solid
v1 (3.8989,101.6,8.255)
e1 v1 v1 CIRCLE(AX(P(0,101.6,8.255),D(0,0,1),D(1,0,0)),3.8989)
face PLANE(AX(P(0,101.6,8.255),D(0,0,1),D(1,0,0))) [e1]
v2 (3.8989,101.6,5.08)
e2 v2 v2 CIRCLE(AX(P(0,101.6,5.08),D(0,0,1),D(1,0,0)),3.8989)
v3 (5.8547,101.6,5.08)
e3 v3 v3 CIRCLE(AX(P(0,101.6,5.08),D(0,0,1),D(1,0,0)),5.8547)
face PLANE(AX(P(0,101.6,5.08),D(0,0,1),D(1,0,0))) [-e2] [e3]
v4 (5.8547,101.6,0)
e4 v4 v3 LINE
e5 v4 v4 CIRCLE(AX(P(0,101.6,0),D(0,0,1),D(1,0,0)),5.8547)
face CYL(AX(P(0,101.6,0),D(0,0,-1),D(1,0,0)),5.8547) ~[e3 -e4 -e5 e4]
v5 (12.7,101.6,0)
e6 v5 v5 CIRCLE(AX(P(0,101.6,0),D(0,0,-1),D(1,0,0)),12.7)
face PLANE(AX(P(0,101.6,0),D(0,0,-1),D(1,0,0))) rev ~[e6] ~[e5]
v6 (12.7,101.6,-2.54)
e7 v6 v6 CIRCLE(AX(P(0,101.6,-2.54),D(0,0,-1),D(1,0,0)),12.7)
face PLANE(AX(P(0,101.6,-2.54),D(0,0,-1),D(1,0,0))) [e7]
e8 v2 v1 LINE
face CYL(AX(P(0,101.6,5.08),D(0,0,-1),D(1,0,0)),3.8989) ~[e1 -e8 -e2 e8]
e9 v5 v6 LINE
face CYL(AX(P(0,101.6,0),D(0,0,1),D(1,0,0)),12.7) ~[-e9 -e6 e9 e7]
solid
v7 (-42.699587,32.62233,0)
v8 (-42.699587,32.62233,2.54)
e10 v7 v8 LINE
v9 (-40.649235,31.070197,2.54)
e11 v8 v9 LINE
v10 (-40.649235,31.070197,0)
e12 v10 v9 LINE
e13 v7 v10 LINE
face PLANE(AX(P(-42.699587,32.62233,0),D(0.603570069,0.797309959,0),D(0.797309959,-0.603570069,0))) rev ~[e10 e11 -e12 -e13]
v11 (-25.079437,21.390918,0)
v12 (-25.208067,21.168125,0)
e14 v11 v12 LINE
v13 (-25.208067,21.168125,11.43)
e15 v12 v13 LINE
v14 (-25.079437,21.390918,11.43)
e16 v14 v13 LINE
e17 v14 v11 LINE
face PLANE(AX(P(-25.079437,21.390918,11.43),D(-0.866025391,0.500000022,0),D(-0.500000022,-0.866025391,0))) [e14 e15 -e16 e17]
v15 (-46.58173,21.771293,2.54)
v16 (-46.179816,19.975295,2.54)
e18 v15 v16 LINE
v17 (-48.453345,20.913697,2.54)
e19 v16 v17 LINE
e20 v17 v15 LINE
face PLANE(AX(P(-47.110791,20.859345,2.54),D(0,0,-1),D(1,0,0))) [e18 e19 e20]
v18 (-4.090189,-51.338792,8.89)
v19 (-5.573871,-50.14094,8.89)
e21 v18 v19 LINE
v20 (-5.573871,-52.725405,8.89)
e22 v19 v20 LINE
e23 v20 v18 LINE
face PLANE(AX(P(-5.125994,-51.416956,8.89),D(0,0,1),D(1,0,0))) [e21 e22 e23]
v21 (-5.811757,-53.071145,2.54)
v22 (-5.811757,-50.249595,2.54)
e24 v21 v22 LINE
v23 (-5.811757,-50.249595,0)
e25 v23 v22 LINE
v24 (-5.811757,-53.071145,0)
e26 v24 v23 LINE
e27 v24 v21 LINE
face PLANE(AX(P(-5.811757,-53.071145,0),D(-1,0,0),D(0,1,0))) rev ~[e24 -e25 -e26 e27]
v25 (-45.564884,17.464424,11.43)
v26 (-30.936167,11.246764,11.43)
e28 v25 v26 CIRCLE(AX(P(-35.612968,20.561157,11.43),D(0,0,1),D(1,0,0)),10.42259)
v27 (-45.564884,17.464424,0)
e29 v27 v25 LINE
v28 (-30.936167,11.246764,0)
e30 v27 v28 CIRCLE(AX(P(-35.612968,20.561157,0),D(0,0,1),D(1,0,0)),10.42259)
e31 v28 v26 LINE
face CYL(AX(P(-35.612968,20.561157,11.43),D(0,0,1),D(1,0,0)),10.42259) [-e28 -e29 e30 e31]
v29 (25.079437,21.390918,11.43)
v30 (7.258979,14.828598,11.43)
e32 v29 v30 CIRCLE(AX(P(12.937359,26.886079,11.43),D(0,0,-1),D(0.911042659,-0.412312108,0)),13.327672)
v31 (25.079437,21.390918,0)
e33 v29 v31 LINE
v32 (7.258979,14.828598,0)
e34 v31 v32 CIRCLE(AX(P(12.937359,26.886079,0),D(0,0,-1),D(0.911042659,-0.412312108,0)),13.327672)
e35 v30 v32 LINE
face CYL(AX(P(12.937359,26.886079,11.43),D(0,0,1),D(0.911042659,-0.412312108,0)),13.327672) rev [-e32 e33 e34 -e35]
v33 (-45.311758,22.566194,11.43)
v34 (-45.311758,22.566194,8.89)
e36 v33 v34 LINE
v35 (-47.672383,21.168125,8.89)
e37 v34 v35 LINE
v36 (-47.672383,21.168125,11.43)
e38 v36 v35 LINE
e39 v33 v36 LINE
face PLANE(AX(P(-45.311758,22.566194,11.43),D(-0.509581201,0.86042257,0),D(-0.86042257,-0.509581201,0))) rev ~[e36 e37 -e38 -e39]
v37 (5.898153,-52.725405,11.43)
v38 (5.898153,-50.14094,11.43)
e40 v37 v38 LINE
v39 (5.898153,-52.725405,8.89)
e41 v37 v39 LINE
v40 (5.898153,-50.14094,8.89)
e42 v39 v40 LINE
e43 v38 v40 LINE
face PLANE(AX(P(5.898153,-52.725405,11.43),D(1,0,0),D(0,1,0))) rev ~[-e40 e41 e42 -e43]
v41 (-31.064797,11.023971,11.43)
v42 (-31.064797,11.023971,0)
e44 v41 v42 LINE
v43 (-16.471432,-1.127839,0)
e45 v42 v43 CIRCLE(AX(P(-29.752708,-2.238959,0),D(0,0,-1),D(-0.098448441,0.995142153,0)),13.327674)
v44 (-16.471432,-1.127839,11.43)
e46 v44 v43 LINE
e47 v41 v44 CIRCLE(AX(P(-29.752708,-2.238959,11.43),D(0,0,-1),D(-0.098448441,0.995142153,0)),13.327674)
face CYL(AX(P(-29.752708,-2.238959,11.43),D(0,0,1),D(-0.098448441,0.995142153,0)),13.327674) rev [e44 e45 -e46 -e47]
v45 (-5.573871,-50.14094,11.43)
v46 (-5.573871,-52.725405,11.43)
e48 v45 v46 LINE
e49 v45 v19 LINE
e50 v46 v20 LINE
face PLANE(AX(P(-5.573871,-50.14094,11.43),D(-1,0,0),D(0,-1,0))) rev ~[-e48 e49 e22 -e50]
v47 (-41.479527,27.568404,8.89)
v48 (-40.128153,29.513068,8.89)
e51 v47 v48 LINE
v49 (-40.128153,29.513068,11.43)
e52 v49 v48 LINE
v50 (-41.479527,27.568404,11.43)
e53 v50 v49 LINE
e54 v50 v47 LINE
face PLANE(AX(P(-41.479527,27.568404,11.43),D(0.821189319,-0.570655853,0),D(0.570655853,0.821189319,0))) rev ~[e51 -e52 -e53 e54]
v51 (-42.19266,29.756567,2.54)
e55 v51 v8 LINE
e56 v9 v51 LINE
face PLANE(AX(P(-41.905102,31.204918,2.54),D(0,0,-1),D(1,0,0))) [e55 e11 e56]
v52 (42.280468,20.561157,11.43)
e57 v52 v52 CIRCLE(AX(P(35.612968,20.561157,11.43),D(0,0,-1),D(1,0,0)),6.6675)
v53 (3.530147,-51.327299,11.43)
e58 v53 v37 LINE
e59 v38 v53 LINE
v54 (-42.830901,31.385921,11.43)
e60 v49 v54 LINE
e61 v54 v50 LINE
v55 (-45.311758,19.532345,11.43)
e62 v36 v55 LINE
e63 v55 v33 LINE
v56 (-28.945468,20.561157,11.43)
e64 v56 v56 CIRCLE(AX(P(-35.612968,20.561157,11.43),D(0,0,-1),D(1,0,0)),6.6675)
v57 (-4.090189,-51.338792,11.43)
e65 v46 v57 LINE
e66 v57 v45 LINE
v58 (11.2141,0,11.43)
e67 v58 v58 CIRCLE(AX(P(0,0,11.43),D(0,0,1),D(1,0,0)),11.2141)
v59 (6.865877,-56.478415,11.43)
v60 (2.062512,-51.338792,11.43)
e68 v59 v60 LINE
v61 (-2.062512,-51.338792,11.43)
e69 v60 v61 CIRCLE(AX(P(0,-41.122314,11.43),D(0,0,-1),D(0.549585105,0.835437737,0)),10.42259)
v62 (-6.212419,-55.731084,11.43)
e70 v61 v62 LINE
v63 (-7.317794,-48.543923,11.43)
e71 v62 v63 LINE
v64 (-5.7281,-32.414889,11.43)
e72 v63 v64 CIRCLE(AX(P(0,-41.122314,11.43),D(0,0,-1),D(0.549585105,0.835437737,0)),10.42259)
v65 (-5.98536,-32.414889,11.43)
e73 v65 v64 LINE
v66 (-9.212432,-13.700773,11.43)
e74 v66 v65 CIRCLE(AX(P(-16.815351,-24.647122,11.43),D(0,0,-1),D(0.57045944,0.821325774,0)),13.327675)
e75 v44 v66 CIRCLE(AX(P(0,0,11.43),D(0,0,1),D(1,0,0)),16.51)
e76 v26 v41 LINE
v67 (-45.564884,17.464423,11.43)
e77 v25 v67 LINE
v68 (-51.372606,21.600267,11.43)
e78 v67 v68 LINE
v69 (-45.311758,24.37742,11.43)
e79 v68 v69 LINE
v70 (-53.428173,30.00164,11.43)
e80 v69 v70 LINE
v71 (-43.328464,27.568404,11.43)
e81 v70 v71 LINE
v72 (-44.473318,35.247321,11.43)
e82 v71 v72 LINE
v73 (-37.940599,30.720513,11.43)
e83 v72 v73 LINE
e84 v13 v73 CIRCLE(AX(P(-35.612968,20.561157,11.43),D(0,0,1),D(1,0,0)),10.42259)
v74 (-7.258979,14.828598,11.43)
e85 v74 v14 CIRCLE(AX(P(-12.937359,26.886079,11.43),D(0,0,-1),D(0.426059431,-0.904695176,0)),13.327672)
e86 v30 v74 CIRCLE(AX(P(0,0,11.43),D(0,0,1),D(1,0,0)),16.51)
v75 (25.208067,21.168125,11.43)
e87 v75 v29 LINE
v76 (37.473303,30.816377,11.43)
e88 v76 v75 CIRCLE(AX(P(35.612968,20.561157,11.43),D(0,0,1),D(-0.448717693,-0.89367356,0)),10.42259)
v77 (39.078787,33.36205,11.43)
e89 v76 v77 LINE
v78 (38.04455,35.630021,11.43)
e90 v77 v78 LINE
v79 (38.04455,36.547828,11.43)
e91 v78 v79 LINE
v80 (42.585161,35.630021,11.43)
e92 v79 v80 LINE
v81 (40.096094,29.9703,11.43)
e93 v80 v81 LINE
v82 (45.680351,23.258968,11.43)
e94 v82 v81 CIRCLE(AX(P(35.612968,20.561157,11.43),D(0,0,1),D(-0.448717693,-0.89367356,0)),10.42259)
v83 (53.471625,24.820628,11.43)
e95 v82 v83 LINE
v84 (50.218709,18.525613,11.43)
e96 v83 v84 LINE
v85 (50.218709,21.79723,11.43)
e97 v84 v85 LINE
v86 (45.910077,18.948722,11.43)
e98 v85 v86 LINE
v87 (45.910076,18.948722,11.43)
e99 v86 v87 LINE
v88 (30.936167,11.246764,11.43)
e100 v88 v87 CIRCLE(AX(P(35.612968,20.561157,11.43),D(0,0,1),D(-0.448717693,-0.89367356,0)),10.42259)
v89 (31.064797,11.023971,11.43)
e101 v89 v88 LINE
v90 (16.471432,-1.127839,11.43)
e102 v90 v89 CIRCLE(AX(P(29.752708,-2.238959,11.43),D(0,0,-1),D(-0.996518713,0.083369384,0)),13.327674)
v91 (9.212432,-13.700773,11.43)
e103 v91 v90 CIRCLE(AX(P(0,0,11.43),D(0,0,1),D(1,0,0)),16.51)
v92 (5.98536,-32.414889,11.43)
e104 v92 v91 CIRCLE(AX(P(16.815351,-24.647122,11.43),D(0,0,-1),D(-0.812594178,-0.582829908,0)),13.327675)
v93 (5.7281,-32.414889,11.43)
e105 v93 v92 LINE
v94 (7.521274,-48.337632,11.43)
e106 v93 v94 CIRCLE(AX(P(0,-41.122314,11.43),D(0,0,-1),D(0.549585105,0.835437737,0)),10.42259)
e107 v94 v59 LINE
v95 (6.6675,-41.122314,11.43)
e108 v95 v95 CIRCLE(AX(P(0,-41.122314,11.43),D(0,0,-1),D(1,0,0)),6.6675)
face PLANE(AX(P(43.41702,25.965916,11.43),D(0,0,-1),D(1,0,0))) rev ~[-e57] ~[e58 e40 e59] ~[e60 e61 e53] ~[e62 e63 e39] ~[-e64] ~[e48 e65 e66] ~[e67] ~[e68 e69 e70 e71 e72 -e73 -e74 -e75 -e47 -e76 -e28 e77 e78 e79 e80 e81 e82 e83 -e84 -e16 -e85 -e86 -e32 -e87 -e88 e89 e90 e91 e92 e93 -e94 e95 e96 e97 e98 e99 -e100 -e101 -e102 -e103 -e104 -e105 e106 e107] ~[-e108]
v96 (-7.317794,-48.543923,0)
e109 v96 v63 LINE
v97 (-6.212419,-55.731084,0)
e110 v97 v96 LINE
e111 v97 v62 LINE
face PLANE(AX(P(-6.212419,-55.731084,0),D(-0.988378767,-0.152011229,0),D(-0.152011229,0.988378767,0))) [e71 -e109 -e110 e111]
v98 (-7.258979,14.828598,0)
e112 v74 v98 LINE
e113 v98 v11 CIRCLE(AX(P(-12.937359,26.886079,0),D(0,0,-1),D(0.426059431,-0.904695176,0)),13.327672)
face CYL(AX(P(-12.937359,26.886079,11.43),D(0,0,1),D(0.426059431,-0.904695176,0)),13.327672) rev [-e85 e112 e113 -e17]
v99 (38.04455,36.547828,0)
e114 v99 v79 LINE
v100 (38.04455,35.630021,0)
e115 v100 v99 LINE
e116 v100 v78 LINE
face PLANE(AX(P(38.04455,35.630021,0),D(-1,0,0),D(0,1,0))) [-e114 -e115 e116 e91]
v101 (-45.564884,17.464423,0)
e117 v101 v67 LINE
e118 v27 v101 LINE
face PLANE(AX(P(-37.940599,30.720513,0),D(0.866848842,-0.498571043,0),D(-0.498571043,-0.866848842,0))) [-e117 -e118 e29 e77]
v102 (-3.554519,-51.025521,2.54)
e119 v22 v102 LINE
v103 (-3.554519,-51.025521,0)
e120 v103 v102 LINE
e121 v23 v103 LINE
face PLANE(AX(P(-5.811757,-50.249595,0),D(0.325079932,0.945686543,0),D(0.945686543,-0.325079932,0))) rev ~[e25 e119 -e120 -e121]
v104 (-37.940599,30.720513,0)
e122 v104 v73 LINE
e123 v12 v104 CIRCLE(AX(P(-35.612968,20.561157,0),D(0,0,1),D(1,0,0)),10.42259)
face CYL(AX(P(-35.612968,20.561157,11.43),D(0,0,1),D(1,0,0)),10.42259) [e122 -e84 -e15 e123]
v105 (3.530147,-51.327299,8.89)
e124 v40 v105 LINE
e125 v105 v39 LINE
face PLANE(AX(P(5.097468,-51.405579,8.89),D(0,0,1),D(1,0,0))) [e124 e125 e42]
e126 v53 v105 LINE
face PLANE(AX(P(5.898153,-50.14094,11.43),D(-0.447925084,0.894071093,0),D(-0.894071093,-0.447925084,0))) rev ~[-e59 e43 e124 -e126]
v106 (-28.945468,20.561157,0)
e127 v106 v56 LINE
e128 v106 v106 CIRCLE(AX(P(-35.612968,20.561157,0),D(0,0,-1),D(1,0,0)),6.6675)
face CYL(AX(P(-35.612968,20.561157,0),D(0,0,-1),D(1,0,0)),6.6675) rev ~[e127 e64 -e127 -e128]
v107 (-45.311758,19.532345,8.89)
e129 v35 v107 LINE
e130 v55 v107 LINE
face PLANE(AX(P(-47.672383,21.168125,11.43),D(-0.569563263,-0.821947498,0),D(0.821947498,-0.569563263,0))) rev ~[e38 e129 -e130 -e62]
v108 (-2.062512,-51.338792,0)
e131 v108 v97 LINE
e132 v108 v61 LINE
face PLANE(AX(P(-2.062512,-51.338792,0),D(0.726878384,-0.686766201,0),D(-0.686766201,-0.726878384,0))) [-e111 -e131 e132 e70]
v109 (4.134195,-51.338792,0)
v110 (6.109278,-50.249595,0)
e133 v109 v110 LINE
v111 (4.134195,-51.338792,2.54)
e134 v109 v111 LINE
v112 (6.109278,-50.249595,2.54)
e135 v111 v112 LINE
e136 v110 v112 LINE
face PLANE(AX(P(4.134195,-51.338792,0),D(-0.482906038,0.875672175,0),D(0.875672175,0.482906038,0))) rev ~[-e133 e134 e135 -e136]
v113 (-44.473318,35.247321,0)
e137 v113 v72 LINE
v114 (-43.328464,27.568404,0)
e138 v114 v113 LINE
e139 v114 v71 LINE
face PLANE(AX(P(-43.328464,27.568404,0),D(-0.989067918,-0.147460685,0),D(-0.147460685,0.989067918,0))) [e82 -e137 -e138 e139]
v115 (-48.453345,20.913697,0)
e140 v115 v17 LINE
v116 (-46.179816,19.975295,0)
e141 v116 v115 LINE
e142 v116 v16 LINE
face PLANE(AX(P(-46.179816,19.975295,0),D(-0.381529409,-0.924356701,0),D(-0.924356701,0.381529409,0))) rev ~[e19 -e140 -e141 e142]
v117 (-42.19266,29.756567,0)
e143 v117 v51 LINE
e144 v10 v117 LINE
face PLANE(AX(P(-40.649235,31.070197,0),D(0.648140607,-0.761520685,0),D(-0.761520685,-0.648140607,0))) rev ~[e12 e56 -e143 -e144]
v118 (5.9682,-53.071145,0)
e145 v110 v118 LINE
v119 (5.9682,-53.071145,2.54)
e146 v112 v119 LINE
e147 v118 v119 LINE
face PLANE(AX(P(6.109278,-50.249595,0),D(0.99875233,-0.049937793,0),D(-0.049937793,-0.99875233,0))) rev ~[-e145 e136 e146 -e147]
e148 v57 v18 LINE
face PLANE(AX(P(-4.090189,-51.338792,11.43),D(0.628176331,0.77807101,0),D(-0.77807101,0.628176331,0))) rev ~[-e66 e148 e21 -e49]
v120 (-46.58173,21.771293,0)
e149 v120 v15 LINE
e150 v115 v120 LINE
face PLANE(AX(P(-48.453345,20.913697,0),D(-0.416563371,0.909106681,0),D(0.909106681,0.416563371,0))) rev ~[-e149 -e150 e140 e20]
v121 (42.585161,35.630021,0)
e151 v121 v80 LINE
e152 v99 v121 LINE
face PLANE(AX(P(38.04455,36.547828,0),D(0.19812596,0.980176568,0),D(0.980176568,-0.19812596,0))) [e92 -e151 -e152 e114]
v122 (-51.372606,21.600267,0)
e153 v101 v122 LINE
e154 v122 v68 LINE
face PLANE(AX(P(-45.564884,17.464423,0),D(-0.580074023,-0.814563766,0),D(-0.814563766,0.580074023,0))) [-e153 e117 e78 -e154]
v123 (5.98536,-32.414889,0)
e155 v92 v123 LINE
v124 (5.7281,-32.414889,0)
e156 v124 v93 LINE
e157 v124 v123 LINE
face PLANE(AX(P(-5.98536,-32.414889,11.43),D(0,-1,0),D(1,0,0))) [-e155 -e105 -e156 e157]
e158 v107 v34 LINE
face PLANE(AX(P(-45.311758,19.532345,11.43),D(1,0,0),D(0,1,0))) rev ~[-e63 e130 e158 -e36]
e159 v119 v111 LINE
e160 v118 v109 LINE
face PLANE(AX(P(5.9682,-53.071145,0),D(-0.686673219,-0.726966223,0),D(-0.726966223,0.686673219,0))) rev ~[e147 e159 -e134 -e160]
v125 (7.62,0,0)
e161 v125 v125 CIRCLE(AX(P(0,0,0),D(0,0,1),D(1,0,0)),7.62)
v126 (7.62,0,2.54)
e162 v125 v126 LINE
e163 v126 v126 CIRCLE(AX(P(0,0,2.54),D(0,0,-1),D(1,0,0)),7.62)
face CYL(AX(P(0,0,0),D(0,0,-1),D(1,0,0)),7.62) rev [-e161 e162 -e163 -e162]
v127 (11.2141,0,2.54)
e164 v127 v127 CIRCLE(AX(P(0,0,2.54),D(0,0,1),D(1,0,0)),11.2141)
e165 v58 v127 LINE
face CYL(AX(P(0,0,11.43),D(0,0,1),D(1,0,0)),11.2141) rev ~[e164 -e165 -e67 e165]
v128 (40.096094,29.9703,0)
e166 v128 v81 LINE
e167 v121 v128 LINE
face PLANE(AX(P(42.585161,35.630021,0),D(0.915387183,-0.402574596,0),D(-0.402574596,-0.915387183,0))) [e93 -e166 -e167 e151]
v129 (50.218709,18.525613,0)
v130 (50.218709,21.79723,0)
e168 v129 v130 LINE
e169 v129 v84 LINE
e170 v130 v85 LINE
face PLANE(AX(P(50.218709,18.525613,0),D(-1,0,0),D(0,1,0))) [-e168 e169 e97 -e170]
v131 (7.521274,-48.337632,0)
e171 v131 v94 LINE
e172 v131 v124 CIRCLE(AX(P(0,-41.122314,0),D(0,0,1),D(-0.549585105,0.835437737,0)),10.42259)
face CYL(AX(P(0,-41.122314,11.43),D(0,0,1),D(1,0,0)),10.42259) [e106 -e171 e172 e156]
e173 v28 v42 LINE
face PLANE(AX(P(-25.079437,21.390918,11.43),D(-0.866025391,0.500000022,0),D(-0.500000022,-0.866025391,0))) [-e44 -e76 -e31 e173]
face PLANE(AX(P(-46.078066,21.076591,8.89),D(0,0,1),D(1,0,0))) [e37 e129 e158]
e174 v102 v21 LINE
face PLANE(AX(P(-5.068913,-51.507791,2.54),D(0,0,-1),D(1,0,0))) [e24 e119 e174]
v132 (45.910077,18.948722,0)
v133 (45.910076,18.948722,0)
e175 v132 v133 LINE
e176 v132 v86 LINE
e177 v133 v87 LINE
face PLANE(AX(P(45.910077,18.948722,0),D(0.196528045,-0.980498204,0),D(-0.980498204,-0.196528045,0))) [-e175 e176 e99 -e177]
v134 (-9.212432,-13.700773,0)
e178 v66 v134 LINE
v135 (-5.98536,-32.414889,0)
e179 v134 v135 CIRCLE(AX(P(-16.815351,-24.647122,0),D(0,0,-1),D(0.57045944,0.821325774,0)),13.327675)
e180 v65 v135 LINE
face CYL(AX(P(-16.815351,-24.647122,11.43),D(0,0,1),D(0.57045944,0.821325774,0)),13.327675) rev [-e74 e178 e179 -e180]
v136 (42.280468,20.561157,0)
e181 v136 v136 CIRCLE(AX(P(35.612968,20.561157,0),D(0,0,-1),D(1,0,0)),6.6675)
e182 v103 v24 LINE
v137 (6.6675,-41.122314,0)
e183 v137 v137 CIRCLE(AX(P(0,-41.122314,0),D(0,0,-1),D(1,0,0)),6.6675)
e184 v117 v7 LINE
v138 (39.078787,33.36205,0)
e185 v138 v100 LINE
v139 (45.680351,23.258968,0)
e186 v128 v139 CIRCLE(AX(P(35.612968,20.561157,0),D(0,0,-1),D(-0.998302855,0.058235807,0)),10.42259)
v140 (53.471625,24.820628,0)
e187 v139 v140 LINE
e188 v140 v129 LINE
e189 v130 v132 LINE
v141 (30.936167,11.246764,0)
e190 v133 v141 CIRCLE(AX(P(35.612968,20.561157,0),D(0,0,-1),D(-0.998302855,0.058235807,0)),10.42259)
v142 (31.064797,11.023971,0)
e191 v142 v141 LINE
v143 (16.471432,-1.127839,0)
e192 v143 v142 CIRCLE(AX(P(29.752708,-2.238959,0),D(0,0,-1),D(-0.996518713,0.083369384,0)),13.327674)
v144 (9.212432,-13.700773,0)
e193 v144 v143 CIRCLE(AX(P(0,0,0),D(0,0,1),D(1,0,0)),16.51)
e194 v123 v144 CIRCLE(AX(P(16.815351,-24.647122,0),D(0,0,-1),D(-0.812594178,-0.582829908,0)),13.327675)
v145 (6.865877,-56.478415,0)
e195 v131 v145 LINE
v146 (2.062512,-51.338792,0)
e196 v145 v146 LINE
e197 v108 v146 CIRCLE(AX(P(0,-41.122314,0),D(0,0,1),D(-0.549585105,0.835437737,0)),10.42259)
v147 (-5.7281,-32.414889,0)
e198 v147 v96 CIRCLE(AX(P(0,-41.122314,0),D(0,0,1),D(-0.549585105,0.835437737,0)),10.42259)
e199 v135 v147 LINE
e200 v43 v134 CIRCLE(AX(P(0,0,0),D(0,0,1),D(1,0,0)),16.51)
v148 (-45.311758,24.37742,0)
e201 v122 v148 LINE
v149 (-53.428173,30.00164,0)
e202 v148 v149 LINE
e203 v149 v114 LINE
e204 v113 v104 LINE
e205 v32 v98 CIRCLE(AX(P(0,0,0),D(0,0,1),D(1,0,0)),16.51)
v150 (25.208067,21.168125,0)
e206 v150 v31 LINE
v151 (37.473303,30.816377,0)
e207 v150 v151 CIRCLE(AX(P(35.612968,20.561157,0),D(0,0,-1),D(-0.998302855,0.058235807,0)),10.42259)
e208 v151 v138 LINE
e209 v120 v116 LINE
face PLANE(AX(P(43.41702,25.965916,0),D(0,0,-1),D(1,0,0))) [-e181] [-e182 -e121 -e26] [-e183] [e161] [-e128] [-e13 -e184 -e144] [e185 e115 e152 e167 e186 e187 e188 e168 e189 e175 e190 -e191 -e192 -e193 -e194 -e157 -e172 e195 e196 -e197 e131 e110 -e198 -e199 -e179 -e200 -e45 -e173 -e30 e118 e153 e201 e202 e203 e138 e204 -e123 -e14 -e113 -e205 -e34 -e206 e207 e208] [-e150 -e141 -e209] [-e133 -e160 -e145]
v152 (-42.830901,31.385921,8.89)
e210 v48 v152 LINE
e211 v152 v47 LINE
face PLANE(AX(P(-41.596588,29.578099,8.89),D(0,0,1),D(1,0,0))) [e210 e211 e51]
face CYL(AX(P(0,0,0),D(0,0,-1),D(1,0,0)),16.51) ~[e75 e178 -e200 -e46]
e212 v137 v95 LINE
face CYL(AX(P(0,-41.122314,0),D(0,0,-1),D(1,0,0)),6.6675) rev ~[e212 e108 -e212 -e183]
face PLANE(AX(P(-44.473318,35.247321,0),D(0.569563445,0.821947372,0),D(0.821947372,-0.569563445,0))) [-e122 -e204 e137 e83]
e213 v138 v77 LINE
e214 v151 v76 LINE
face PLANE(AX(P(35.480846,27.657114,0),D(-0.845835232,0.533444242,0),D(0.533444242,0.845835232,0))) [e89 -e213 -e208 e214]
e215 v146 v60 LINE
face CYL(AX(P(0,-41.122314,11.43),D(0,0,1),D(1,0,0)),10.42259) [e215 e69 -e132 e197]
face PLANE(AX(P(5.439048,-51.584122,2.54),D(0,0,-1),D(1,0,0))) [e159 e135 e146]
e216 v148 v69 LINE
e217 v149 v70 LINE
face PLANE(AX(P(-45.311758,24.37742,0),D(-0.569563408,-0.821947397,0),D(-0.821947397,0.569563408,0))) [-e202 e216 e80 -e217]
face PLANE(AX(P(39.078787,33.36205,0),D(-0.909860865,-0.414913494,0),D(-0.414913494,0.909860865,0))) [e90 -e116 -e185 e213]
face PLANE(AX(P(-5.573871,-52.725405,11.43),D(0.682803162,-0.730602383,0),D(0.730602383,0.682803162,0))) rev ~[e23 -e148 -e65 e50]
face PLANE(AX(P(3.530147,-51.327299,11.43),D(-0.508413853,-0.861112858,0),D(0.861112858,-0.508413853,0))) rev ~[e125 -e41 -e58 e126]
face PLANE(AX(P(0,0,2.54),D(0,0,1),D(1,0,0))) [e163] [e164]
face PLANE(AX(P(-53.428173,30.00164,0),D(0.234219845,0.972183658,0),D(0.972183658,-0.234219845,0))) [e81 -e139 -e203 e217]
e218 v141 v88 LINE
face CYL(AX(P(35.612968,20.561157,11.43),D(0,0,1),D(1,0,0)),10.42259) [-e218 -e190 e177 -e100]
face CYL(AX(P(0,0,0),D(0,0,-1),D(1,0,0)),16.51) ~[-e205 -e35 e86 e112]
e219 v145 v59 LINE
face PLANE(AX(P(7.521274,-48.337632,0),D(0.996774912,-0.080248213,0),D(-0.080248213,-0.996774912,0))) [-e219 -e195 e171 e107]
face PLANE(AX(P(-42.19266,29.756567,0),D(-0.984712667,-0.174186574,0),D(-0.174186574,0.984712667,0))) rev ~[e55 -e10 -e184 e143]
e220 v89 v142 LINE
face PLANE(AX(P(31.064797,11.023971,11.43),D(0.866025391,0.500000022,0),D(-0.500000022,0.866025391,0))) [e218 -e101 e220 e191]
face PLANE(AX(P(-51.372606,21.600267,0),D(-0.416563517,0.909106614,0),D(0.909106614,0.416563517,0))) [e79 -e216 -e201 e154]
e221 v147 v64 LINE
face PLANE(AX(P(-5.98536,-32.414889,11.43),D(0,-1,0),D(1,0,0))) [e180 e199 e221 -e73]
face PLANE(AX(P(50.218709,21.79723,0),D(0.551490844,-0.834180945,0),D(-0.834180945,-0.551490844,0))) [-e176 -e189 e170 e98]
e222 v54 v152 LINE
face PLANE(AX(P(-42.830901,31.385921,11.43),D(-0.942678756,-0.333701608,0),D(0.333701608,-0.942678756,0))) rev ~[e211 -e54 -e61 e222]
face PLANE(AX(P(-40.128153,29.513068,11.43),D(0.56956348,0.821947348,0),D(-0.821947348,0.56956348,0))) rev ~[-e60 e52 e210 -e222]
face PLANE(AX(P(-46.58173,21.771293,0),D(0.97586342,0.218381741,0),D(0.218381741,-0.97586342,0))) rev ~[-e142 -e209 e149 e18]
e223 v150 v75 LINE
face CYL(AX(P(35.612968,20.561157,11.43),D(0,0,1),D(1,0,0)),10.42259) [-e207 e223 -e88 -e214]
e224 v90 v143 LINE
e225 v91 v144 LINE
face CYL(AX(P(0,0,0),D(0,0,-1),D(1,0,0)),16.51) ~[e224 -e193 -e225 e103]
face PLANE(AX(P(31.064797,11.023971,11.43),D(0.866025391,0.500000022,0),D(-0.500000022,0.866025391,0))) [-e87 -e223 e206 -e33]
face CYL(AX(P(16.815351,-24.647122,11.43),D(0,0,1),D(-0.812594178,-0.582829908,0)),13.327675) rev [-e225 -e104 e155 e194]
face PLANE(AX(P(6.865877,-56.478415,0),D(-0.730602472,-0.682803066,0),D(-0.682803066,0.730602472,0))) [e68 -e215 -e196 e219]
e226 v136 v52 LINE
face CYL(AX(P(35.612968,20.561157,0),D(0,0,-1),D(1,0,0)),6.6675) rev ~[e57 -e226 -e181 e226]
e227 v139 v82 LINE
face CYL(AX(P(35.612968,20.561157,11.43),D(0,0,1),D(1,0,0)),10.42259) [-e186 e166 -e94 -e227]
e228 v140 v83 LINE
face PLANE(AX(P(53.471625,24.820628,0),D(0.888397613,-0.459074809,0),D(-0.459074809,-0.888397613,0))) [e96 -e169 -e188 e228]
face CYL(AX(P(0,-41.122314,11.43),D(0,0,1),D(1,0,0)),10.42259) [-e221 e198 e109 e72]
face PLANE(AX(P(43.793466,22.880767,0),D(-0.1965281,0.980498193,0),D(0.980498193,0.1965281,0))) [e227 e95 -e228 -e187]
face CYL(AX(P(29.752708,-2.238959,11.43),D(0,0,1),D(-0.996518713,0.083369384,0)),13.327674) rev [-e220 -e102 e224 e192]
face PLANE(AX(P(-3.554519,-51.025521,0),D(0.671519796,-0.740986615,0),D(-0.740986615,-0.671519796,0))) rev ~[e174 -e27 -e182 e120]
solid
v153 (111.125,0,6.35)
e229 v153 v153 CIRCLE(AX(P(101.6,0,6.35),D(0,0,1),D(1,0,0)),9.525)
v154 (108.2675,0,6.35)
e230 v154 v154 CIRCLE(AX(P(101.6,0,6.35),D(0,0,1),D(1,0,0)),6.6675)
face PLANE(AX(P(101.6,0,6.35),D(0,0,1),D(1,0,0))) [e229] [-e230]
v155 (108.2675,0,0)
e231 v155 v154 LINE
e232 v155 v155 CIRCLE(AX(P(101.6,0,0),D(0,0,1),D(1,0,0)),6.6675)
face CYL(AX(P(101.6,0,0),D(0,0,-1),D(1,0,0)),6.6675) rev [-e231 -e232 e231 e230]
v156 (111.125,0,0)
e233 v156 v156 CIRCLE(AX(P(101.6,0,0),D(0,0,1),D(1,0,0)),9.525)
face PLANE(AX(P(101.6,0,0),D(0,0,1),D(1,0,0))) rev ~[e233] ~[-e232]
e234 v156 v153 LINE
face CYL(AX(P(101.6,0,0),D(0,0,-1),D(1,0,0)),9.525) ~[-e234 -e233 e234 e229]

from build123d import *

# Parameters (mm, degrees)
F0_R      = 5.8547
F1_DEPTH  = 5.08
F2_R      = 3.8989
F3_DEPTH  = 3.175
F4_R      = 12.7
F5_DEPTH  = 2.54
F6_R      = 9.525
F6_R_2    = 6.6675
F7_DEPTH  = 6.35
F8_R      = 16.51
F8_R_2    = 7.62
F9_DEPTH  = 11.43
F10_R     = 11.2141
F11_DEPTH = 8.89
F13_DEPTH = 11.43
F14_R     = 10.42259
F15_DEPTH = 11.43
F17_DEPTH = 11.43
F19_DEPTH = 11.43
F21_DEPTH = 2.54
F23_DEPTH = 11.43
F25_DEPTH = 2.54
F26_R     = 6.6675
F27_DEPTH = 254
F29_DEPTH = 2.54
F31_DEPTH = 2.54


with BuildPart() as f1:
    # F0 (on Top) → F1 (new body)
    with BuildSketch(Plane.XY):
        with Locations((0, 101.6)):
            Circle(F0_R)
    extrude(amount=F1_DEPTH)

    # F2 (on face) → F3 (join)
    with BuildSketch(Plane.XY.offset(5.08)):
        with Locations((0, 101.6)):
            Circle(F2_R)
    extrude(amount=F3_DEPTH)

    # F4 (on face) → F5 (join)
    with BuildSketch(Plane(origin=(0, 0, 0), x_dir=(1, 0, 0), z_dir=(0, 0, -1))):
        with Locations((0, -101.6)):
            Circle(F4_R)
    extrude(amount=F5_DEPTH)


with BuildPart() as f7:
    # F6 (on Top) → F7 (new body)
    with BuildSketch(Plane.XY):
        with Locations((101.6, 0)):
            Circle(F6_R)
        with Locations((101.6, 0)):
            Circle(F6_R_2, mode=Mode.SUBTRACT)
    extrude(amount=F7_DEPTH)


with BuildPart() as f9:
    # F8 (on Top) → F9 (new body)
    with BuildSketch(Plane.XY):
        Circle(F8_R)
        Circle(F8_R_2, mode=Mode.SUBTRACT)
    extrude(amount=F9_DEPTH)

    # F10 (on face) → F11 (cut)
    with BuildSketch(Plane.XY.offset(11.43)):
        Circle(F10_R)
    extrude(amount=-F11_DEPTH, mode=Mode.SUBTRACT)

    # F12 (on face) → F13 (join)
    with BuildSketch(Plane.XY.offset(11.43)):
        with BuildLine():
            ThreePointArc((5.98536, -32.414889), (3.68152, -22.382304), (9.212453, -13.700759))
            Line((9.212453, -13.700759), (-9.212453, -13.700759))
            ThreePointArc((-9.212453, -13.700759), (-3.68152, -22.382304), (-5.98536, -32.414889))
            Line((-5.98536, -32.414889), (5.98536, -32.414889))
        make_face()
        with BuildLine():
            ThreePointArc((25.079437, 21.390918), (17.542884, 14.379441), (7.258979, 14.828598))
            Line((7.258979, 14.828598), (16.471432, -1.127839))
            ThreePointArc((16.471432, -1.127839), (21.224403, 8.002862), (31.064797, 11.023971))
            Line((31.064797, 11.023971), (25.079437, 21.390918))
        make_face()
        with BuildLine():
            ThreePointArc((-31.064797, 11.023971), (-21.224403, 8.002862), (-16.471432, -1.127839))
            Line((-16.471432, -1.127839), (-7.258979, 14.828598))
            ThreePointArc((-7.258979, 14.828598), (-17.542884, 14.379441), (-25.079437, 21.390918))
            Line((-25.079437, 21.390918), (-31.064797, 11.023971))
        make_face()
    extrude(amount=-F13_DEPTH)

    # F14 (on face) → F15 (join)
    with BuildSketch(Plane.XY.offset(11.43)):
        with Locations((0, -41.122314)):
            Circle(F14_R)
        with Locations((35.612968, 20.561157)):
            Circle(F14_R)
        with Locations((-35.612968, 20.561157)):
            Circle(F14_R)
    extrude(amount=-F15_DEPTH)

    # F16 (on face) → F17 (join)
    with BuildSketch(Plane(origin=(0, 0, 0), x_dir=(1, 0, 0), z_dir=(0, 0, -1))):
        Polygon((-6.212419, 55.731084), (-7.317794, 48.543923), (7.521274, 48.337632), (6.865877, 56.478415), (2.062512, 51.338792), (-2.062512, 51.338792), align=None)
    extrude(amount=-F17_DEPTH)

    # F18 (on face) → F19 (join)
    with BuildSketch(Plane(origin=(0, 0, 0), x_dir=(1, 0, 0), z_dir=(0, 0, -1))):
        Polygon((-44.473318, -35.247321), (-37.940599, -30.720513), (-45.564884, -17.464423), (-51.372606, -21.600267), (-45.311758, -24.37742), (-53.428173, -30.00164), (-43.328464, -27.568404), align=None)
    extrude(amount=-F19_DEPTH)

    # F20 (on face) → F21 (cut)
    with BuildSketch(Plane(origin=(0, 0, 0), x_dir=(1, 0, 0), z_dir=(0, 0, -1))):
        Polygon((-42.699587, -32.62233), (-40.649235, -31.070197), (-42.19266, -29.756567), align=None)
        Polygon((-48.453345, -20.913697), (-46.58173, -21.771293), (-46.179816, -19.975295), align=None)
    extrude(amount=-F21_DEPTH, mode=Mode.SUBTRACT)

    # F22 (on face) → F23 (join)
    with BuildSketch(Plane(origin=(0, 0, 0), x_dir=(1, 0, 0), z_dir=(0, 0, -1))):
        Polygon((50.218709, -21.79723), (45.910077, -18.948722), (43.793466, -18.524475), (35.480846, -26.646961), (35.480846, -27.657114), (39.078787, -33.36205), (38.04455, -35.630021), (38.04455, -36.547828), (42.585161, -35.630021), (39.078787, -27.657114), (43.793466, -22.880767), (53.471625, -24.820628), (50.218709, -18.525613), align=None)
    extrude(amount=-F23_DEPTH)

    # F24 (on face) → F25 (cut)
    with BuildSketch(Plane(origin=(0, 0, 0), x_dir=(1, 0, 0), z_dir=(0, 0, -1))):
        Polygon((-5.811757, 53.071145), (-5.811757, 50.249595), (-3.554519, 51.025521), align=None)
        Polygon((6.109278, 50.249595), (5.9682, 53.071145), (4.134195, 51.338792), align=None)
    extrude(amount=-F25_DEPTH, mode=Mode.SUBTRACT)

    # F26 (on face) → F27 (cut)
    with BuildSketch(Plane(origin=(0, 0, 0), x_dir=(1, 0, 0), z_dir=(0, 0, -1))):
        with Locations((0, 41.122314)):
            Circle(F26_R)
        with Locations((-35.612968, -20.561157)):
            Circle(F26_R)
        with Locations((35.612968, -20.561157)):
            Circle(F26_R)
    extrude(amount=-F27_DEPTH, mode=Mode.SUBTRACT)

    # F28 (on face) → F29 (cut)
    with BuildSketch(Plane.XY.offset(11.43)):
        Polygon((3.530147, -51.327299), (5.898153, -52.725405), (5.898153, -50.14094), align=None)
        Polygon((-5.573871, -52.725405), (-4.090189, -51.338792), (-5.573871, -50.14094), align=None)
    extrude(amount=-F29_DEPTH, mode=Mode.SUBTRACT)

    # F30 (on face) → F31 (cut)
    with BuildSketch(Plane.XY.offset(11.43)):
        Polygon((-41.479527, 27.568404), (-40.128153, 29.513068), (-42.830901, 31.385921), align=None)
        Polygon((-47.672383, 21.168125), (-45.311758, 19.532345), (-45.311758, 21.168125), (-45.311758, 22.566194), align=None)
    extrude(amount=-F31_DEPTH, mode=Mode.SUBTRACT)


solid = Compound([f1.part, f7.part, f9.part])
